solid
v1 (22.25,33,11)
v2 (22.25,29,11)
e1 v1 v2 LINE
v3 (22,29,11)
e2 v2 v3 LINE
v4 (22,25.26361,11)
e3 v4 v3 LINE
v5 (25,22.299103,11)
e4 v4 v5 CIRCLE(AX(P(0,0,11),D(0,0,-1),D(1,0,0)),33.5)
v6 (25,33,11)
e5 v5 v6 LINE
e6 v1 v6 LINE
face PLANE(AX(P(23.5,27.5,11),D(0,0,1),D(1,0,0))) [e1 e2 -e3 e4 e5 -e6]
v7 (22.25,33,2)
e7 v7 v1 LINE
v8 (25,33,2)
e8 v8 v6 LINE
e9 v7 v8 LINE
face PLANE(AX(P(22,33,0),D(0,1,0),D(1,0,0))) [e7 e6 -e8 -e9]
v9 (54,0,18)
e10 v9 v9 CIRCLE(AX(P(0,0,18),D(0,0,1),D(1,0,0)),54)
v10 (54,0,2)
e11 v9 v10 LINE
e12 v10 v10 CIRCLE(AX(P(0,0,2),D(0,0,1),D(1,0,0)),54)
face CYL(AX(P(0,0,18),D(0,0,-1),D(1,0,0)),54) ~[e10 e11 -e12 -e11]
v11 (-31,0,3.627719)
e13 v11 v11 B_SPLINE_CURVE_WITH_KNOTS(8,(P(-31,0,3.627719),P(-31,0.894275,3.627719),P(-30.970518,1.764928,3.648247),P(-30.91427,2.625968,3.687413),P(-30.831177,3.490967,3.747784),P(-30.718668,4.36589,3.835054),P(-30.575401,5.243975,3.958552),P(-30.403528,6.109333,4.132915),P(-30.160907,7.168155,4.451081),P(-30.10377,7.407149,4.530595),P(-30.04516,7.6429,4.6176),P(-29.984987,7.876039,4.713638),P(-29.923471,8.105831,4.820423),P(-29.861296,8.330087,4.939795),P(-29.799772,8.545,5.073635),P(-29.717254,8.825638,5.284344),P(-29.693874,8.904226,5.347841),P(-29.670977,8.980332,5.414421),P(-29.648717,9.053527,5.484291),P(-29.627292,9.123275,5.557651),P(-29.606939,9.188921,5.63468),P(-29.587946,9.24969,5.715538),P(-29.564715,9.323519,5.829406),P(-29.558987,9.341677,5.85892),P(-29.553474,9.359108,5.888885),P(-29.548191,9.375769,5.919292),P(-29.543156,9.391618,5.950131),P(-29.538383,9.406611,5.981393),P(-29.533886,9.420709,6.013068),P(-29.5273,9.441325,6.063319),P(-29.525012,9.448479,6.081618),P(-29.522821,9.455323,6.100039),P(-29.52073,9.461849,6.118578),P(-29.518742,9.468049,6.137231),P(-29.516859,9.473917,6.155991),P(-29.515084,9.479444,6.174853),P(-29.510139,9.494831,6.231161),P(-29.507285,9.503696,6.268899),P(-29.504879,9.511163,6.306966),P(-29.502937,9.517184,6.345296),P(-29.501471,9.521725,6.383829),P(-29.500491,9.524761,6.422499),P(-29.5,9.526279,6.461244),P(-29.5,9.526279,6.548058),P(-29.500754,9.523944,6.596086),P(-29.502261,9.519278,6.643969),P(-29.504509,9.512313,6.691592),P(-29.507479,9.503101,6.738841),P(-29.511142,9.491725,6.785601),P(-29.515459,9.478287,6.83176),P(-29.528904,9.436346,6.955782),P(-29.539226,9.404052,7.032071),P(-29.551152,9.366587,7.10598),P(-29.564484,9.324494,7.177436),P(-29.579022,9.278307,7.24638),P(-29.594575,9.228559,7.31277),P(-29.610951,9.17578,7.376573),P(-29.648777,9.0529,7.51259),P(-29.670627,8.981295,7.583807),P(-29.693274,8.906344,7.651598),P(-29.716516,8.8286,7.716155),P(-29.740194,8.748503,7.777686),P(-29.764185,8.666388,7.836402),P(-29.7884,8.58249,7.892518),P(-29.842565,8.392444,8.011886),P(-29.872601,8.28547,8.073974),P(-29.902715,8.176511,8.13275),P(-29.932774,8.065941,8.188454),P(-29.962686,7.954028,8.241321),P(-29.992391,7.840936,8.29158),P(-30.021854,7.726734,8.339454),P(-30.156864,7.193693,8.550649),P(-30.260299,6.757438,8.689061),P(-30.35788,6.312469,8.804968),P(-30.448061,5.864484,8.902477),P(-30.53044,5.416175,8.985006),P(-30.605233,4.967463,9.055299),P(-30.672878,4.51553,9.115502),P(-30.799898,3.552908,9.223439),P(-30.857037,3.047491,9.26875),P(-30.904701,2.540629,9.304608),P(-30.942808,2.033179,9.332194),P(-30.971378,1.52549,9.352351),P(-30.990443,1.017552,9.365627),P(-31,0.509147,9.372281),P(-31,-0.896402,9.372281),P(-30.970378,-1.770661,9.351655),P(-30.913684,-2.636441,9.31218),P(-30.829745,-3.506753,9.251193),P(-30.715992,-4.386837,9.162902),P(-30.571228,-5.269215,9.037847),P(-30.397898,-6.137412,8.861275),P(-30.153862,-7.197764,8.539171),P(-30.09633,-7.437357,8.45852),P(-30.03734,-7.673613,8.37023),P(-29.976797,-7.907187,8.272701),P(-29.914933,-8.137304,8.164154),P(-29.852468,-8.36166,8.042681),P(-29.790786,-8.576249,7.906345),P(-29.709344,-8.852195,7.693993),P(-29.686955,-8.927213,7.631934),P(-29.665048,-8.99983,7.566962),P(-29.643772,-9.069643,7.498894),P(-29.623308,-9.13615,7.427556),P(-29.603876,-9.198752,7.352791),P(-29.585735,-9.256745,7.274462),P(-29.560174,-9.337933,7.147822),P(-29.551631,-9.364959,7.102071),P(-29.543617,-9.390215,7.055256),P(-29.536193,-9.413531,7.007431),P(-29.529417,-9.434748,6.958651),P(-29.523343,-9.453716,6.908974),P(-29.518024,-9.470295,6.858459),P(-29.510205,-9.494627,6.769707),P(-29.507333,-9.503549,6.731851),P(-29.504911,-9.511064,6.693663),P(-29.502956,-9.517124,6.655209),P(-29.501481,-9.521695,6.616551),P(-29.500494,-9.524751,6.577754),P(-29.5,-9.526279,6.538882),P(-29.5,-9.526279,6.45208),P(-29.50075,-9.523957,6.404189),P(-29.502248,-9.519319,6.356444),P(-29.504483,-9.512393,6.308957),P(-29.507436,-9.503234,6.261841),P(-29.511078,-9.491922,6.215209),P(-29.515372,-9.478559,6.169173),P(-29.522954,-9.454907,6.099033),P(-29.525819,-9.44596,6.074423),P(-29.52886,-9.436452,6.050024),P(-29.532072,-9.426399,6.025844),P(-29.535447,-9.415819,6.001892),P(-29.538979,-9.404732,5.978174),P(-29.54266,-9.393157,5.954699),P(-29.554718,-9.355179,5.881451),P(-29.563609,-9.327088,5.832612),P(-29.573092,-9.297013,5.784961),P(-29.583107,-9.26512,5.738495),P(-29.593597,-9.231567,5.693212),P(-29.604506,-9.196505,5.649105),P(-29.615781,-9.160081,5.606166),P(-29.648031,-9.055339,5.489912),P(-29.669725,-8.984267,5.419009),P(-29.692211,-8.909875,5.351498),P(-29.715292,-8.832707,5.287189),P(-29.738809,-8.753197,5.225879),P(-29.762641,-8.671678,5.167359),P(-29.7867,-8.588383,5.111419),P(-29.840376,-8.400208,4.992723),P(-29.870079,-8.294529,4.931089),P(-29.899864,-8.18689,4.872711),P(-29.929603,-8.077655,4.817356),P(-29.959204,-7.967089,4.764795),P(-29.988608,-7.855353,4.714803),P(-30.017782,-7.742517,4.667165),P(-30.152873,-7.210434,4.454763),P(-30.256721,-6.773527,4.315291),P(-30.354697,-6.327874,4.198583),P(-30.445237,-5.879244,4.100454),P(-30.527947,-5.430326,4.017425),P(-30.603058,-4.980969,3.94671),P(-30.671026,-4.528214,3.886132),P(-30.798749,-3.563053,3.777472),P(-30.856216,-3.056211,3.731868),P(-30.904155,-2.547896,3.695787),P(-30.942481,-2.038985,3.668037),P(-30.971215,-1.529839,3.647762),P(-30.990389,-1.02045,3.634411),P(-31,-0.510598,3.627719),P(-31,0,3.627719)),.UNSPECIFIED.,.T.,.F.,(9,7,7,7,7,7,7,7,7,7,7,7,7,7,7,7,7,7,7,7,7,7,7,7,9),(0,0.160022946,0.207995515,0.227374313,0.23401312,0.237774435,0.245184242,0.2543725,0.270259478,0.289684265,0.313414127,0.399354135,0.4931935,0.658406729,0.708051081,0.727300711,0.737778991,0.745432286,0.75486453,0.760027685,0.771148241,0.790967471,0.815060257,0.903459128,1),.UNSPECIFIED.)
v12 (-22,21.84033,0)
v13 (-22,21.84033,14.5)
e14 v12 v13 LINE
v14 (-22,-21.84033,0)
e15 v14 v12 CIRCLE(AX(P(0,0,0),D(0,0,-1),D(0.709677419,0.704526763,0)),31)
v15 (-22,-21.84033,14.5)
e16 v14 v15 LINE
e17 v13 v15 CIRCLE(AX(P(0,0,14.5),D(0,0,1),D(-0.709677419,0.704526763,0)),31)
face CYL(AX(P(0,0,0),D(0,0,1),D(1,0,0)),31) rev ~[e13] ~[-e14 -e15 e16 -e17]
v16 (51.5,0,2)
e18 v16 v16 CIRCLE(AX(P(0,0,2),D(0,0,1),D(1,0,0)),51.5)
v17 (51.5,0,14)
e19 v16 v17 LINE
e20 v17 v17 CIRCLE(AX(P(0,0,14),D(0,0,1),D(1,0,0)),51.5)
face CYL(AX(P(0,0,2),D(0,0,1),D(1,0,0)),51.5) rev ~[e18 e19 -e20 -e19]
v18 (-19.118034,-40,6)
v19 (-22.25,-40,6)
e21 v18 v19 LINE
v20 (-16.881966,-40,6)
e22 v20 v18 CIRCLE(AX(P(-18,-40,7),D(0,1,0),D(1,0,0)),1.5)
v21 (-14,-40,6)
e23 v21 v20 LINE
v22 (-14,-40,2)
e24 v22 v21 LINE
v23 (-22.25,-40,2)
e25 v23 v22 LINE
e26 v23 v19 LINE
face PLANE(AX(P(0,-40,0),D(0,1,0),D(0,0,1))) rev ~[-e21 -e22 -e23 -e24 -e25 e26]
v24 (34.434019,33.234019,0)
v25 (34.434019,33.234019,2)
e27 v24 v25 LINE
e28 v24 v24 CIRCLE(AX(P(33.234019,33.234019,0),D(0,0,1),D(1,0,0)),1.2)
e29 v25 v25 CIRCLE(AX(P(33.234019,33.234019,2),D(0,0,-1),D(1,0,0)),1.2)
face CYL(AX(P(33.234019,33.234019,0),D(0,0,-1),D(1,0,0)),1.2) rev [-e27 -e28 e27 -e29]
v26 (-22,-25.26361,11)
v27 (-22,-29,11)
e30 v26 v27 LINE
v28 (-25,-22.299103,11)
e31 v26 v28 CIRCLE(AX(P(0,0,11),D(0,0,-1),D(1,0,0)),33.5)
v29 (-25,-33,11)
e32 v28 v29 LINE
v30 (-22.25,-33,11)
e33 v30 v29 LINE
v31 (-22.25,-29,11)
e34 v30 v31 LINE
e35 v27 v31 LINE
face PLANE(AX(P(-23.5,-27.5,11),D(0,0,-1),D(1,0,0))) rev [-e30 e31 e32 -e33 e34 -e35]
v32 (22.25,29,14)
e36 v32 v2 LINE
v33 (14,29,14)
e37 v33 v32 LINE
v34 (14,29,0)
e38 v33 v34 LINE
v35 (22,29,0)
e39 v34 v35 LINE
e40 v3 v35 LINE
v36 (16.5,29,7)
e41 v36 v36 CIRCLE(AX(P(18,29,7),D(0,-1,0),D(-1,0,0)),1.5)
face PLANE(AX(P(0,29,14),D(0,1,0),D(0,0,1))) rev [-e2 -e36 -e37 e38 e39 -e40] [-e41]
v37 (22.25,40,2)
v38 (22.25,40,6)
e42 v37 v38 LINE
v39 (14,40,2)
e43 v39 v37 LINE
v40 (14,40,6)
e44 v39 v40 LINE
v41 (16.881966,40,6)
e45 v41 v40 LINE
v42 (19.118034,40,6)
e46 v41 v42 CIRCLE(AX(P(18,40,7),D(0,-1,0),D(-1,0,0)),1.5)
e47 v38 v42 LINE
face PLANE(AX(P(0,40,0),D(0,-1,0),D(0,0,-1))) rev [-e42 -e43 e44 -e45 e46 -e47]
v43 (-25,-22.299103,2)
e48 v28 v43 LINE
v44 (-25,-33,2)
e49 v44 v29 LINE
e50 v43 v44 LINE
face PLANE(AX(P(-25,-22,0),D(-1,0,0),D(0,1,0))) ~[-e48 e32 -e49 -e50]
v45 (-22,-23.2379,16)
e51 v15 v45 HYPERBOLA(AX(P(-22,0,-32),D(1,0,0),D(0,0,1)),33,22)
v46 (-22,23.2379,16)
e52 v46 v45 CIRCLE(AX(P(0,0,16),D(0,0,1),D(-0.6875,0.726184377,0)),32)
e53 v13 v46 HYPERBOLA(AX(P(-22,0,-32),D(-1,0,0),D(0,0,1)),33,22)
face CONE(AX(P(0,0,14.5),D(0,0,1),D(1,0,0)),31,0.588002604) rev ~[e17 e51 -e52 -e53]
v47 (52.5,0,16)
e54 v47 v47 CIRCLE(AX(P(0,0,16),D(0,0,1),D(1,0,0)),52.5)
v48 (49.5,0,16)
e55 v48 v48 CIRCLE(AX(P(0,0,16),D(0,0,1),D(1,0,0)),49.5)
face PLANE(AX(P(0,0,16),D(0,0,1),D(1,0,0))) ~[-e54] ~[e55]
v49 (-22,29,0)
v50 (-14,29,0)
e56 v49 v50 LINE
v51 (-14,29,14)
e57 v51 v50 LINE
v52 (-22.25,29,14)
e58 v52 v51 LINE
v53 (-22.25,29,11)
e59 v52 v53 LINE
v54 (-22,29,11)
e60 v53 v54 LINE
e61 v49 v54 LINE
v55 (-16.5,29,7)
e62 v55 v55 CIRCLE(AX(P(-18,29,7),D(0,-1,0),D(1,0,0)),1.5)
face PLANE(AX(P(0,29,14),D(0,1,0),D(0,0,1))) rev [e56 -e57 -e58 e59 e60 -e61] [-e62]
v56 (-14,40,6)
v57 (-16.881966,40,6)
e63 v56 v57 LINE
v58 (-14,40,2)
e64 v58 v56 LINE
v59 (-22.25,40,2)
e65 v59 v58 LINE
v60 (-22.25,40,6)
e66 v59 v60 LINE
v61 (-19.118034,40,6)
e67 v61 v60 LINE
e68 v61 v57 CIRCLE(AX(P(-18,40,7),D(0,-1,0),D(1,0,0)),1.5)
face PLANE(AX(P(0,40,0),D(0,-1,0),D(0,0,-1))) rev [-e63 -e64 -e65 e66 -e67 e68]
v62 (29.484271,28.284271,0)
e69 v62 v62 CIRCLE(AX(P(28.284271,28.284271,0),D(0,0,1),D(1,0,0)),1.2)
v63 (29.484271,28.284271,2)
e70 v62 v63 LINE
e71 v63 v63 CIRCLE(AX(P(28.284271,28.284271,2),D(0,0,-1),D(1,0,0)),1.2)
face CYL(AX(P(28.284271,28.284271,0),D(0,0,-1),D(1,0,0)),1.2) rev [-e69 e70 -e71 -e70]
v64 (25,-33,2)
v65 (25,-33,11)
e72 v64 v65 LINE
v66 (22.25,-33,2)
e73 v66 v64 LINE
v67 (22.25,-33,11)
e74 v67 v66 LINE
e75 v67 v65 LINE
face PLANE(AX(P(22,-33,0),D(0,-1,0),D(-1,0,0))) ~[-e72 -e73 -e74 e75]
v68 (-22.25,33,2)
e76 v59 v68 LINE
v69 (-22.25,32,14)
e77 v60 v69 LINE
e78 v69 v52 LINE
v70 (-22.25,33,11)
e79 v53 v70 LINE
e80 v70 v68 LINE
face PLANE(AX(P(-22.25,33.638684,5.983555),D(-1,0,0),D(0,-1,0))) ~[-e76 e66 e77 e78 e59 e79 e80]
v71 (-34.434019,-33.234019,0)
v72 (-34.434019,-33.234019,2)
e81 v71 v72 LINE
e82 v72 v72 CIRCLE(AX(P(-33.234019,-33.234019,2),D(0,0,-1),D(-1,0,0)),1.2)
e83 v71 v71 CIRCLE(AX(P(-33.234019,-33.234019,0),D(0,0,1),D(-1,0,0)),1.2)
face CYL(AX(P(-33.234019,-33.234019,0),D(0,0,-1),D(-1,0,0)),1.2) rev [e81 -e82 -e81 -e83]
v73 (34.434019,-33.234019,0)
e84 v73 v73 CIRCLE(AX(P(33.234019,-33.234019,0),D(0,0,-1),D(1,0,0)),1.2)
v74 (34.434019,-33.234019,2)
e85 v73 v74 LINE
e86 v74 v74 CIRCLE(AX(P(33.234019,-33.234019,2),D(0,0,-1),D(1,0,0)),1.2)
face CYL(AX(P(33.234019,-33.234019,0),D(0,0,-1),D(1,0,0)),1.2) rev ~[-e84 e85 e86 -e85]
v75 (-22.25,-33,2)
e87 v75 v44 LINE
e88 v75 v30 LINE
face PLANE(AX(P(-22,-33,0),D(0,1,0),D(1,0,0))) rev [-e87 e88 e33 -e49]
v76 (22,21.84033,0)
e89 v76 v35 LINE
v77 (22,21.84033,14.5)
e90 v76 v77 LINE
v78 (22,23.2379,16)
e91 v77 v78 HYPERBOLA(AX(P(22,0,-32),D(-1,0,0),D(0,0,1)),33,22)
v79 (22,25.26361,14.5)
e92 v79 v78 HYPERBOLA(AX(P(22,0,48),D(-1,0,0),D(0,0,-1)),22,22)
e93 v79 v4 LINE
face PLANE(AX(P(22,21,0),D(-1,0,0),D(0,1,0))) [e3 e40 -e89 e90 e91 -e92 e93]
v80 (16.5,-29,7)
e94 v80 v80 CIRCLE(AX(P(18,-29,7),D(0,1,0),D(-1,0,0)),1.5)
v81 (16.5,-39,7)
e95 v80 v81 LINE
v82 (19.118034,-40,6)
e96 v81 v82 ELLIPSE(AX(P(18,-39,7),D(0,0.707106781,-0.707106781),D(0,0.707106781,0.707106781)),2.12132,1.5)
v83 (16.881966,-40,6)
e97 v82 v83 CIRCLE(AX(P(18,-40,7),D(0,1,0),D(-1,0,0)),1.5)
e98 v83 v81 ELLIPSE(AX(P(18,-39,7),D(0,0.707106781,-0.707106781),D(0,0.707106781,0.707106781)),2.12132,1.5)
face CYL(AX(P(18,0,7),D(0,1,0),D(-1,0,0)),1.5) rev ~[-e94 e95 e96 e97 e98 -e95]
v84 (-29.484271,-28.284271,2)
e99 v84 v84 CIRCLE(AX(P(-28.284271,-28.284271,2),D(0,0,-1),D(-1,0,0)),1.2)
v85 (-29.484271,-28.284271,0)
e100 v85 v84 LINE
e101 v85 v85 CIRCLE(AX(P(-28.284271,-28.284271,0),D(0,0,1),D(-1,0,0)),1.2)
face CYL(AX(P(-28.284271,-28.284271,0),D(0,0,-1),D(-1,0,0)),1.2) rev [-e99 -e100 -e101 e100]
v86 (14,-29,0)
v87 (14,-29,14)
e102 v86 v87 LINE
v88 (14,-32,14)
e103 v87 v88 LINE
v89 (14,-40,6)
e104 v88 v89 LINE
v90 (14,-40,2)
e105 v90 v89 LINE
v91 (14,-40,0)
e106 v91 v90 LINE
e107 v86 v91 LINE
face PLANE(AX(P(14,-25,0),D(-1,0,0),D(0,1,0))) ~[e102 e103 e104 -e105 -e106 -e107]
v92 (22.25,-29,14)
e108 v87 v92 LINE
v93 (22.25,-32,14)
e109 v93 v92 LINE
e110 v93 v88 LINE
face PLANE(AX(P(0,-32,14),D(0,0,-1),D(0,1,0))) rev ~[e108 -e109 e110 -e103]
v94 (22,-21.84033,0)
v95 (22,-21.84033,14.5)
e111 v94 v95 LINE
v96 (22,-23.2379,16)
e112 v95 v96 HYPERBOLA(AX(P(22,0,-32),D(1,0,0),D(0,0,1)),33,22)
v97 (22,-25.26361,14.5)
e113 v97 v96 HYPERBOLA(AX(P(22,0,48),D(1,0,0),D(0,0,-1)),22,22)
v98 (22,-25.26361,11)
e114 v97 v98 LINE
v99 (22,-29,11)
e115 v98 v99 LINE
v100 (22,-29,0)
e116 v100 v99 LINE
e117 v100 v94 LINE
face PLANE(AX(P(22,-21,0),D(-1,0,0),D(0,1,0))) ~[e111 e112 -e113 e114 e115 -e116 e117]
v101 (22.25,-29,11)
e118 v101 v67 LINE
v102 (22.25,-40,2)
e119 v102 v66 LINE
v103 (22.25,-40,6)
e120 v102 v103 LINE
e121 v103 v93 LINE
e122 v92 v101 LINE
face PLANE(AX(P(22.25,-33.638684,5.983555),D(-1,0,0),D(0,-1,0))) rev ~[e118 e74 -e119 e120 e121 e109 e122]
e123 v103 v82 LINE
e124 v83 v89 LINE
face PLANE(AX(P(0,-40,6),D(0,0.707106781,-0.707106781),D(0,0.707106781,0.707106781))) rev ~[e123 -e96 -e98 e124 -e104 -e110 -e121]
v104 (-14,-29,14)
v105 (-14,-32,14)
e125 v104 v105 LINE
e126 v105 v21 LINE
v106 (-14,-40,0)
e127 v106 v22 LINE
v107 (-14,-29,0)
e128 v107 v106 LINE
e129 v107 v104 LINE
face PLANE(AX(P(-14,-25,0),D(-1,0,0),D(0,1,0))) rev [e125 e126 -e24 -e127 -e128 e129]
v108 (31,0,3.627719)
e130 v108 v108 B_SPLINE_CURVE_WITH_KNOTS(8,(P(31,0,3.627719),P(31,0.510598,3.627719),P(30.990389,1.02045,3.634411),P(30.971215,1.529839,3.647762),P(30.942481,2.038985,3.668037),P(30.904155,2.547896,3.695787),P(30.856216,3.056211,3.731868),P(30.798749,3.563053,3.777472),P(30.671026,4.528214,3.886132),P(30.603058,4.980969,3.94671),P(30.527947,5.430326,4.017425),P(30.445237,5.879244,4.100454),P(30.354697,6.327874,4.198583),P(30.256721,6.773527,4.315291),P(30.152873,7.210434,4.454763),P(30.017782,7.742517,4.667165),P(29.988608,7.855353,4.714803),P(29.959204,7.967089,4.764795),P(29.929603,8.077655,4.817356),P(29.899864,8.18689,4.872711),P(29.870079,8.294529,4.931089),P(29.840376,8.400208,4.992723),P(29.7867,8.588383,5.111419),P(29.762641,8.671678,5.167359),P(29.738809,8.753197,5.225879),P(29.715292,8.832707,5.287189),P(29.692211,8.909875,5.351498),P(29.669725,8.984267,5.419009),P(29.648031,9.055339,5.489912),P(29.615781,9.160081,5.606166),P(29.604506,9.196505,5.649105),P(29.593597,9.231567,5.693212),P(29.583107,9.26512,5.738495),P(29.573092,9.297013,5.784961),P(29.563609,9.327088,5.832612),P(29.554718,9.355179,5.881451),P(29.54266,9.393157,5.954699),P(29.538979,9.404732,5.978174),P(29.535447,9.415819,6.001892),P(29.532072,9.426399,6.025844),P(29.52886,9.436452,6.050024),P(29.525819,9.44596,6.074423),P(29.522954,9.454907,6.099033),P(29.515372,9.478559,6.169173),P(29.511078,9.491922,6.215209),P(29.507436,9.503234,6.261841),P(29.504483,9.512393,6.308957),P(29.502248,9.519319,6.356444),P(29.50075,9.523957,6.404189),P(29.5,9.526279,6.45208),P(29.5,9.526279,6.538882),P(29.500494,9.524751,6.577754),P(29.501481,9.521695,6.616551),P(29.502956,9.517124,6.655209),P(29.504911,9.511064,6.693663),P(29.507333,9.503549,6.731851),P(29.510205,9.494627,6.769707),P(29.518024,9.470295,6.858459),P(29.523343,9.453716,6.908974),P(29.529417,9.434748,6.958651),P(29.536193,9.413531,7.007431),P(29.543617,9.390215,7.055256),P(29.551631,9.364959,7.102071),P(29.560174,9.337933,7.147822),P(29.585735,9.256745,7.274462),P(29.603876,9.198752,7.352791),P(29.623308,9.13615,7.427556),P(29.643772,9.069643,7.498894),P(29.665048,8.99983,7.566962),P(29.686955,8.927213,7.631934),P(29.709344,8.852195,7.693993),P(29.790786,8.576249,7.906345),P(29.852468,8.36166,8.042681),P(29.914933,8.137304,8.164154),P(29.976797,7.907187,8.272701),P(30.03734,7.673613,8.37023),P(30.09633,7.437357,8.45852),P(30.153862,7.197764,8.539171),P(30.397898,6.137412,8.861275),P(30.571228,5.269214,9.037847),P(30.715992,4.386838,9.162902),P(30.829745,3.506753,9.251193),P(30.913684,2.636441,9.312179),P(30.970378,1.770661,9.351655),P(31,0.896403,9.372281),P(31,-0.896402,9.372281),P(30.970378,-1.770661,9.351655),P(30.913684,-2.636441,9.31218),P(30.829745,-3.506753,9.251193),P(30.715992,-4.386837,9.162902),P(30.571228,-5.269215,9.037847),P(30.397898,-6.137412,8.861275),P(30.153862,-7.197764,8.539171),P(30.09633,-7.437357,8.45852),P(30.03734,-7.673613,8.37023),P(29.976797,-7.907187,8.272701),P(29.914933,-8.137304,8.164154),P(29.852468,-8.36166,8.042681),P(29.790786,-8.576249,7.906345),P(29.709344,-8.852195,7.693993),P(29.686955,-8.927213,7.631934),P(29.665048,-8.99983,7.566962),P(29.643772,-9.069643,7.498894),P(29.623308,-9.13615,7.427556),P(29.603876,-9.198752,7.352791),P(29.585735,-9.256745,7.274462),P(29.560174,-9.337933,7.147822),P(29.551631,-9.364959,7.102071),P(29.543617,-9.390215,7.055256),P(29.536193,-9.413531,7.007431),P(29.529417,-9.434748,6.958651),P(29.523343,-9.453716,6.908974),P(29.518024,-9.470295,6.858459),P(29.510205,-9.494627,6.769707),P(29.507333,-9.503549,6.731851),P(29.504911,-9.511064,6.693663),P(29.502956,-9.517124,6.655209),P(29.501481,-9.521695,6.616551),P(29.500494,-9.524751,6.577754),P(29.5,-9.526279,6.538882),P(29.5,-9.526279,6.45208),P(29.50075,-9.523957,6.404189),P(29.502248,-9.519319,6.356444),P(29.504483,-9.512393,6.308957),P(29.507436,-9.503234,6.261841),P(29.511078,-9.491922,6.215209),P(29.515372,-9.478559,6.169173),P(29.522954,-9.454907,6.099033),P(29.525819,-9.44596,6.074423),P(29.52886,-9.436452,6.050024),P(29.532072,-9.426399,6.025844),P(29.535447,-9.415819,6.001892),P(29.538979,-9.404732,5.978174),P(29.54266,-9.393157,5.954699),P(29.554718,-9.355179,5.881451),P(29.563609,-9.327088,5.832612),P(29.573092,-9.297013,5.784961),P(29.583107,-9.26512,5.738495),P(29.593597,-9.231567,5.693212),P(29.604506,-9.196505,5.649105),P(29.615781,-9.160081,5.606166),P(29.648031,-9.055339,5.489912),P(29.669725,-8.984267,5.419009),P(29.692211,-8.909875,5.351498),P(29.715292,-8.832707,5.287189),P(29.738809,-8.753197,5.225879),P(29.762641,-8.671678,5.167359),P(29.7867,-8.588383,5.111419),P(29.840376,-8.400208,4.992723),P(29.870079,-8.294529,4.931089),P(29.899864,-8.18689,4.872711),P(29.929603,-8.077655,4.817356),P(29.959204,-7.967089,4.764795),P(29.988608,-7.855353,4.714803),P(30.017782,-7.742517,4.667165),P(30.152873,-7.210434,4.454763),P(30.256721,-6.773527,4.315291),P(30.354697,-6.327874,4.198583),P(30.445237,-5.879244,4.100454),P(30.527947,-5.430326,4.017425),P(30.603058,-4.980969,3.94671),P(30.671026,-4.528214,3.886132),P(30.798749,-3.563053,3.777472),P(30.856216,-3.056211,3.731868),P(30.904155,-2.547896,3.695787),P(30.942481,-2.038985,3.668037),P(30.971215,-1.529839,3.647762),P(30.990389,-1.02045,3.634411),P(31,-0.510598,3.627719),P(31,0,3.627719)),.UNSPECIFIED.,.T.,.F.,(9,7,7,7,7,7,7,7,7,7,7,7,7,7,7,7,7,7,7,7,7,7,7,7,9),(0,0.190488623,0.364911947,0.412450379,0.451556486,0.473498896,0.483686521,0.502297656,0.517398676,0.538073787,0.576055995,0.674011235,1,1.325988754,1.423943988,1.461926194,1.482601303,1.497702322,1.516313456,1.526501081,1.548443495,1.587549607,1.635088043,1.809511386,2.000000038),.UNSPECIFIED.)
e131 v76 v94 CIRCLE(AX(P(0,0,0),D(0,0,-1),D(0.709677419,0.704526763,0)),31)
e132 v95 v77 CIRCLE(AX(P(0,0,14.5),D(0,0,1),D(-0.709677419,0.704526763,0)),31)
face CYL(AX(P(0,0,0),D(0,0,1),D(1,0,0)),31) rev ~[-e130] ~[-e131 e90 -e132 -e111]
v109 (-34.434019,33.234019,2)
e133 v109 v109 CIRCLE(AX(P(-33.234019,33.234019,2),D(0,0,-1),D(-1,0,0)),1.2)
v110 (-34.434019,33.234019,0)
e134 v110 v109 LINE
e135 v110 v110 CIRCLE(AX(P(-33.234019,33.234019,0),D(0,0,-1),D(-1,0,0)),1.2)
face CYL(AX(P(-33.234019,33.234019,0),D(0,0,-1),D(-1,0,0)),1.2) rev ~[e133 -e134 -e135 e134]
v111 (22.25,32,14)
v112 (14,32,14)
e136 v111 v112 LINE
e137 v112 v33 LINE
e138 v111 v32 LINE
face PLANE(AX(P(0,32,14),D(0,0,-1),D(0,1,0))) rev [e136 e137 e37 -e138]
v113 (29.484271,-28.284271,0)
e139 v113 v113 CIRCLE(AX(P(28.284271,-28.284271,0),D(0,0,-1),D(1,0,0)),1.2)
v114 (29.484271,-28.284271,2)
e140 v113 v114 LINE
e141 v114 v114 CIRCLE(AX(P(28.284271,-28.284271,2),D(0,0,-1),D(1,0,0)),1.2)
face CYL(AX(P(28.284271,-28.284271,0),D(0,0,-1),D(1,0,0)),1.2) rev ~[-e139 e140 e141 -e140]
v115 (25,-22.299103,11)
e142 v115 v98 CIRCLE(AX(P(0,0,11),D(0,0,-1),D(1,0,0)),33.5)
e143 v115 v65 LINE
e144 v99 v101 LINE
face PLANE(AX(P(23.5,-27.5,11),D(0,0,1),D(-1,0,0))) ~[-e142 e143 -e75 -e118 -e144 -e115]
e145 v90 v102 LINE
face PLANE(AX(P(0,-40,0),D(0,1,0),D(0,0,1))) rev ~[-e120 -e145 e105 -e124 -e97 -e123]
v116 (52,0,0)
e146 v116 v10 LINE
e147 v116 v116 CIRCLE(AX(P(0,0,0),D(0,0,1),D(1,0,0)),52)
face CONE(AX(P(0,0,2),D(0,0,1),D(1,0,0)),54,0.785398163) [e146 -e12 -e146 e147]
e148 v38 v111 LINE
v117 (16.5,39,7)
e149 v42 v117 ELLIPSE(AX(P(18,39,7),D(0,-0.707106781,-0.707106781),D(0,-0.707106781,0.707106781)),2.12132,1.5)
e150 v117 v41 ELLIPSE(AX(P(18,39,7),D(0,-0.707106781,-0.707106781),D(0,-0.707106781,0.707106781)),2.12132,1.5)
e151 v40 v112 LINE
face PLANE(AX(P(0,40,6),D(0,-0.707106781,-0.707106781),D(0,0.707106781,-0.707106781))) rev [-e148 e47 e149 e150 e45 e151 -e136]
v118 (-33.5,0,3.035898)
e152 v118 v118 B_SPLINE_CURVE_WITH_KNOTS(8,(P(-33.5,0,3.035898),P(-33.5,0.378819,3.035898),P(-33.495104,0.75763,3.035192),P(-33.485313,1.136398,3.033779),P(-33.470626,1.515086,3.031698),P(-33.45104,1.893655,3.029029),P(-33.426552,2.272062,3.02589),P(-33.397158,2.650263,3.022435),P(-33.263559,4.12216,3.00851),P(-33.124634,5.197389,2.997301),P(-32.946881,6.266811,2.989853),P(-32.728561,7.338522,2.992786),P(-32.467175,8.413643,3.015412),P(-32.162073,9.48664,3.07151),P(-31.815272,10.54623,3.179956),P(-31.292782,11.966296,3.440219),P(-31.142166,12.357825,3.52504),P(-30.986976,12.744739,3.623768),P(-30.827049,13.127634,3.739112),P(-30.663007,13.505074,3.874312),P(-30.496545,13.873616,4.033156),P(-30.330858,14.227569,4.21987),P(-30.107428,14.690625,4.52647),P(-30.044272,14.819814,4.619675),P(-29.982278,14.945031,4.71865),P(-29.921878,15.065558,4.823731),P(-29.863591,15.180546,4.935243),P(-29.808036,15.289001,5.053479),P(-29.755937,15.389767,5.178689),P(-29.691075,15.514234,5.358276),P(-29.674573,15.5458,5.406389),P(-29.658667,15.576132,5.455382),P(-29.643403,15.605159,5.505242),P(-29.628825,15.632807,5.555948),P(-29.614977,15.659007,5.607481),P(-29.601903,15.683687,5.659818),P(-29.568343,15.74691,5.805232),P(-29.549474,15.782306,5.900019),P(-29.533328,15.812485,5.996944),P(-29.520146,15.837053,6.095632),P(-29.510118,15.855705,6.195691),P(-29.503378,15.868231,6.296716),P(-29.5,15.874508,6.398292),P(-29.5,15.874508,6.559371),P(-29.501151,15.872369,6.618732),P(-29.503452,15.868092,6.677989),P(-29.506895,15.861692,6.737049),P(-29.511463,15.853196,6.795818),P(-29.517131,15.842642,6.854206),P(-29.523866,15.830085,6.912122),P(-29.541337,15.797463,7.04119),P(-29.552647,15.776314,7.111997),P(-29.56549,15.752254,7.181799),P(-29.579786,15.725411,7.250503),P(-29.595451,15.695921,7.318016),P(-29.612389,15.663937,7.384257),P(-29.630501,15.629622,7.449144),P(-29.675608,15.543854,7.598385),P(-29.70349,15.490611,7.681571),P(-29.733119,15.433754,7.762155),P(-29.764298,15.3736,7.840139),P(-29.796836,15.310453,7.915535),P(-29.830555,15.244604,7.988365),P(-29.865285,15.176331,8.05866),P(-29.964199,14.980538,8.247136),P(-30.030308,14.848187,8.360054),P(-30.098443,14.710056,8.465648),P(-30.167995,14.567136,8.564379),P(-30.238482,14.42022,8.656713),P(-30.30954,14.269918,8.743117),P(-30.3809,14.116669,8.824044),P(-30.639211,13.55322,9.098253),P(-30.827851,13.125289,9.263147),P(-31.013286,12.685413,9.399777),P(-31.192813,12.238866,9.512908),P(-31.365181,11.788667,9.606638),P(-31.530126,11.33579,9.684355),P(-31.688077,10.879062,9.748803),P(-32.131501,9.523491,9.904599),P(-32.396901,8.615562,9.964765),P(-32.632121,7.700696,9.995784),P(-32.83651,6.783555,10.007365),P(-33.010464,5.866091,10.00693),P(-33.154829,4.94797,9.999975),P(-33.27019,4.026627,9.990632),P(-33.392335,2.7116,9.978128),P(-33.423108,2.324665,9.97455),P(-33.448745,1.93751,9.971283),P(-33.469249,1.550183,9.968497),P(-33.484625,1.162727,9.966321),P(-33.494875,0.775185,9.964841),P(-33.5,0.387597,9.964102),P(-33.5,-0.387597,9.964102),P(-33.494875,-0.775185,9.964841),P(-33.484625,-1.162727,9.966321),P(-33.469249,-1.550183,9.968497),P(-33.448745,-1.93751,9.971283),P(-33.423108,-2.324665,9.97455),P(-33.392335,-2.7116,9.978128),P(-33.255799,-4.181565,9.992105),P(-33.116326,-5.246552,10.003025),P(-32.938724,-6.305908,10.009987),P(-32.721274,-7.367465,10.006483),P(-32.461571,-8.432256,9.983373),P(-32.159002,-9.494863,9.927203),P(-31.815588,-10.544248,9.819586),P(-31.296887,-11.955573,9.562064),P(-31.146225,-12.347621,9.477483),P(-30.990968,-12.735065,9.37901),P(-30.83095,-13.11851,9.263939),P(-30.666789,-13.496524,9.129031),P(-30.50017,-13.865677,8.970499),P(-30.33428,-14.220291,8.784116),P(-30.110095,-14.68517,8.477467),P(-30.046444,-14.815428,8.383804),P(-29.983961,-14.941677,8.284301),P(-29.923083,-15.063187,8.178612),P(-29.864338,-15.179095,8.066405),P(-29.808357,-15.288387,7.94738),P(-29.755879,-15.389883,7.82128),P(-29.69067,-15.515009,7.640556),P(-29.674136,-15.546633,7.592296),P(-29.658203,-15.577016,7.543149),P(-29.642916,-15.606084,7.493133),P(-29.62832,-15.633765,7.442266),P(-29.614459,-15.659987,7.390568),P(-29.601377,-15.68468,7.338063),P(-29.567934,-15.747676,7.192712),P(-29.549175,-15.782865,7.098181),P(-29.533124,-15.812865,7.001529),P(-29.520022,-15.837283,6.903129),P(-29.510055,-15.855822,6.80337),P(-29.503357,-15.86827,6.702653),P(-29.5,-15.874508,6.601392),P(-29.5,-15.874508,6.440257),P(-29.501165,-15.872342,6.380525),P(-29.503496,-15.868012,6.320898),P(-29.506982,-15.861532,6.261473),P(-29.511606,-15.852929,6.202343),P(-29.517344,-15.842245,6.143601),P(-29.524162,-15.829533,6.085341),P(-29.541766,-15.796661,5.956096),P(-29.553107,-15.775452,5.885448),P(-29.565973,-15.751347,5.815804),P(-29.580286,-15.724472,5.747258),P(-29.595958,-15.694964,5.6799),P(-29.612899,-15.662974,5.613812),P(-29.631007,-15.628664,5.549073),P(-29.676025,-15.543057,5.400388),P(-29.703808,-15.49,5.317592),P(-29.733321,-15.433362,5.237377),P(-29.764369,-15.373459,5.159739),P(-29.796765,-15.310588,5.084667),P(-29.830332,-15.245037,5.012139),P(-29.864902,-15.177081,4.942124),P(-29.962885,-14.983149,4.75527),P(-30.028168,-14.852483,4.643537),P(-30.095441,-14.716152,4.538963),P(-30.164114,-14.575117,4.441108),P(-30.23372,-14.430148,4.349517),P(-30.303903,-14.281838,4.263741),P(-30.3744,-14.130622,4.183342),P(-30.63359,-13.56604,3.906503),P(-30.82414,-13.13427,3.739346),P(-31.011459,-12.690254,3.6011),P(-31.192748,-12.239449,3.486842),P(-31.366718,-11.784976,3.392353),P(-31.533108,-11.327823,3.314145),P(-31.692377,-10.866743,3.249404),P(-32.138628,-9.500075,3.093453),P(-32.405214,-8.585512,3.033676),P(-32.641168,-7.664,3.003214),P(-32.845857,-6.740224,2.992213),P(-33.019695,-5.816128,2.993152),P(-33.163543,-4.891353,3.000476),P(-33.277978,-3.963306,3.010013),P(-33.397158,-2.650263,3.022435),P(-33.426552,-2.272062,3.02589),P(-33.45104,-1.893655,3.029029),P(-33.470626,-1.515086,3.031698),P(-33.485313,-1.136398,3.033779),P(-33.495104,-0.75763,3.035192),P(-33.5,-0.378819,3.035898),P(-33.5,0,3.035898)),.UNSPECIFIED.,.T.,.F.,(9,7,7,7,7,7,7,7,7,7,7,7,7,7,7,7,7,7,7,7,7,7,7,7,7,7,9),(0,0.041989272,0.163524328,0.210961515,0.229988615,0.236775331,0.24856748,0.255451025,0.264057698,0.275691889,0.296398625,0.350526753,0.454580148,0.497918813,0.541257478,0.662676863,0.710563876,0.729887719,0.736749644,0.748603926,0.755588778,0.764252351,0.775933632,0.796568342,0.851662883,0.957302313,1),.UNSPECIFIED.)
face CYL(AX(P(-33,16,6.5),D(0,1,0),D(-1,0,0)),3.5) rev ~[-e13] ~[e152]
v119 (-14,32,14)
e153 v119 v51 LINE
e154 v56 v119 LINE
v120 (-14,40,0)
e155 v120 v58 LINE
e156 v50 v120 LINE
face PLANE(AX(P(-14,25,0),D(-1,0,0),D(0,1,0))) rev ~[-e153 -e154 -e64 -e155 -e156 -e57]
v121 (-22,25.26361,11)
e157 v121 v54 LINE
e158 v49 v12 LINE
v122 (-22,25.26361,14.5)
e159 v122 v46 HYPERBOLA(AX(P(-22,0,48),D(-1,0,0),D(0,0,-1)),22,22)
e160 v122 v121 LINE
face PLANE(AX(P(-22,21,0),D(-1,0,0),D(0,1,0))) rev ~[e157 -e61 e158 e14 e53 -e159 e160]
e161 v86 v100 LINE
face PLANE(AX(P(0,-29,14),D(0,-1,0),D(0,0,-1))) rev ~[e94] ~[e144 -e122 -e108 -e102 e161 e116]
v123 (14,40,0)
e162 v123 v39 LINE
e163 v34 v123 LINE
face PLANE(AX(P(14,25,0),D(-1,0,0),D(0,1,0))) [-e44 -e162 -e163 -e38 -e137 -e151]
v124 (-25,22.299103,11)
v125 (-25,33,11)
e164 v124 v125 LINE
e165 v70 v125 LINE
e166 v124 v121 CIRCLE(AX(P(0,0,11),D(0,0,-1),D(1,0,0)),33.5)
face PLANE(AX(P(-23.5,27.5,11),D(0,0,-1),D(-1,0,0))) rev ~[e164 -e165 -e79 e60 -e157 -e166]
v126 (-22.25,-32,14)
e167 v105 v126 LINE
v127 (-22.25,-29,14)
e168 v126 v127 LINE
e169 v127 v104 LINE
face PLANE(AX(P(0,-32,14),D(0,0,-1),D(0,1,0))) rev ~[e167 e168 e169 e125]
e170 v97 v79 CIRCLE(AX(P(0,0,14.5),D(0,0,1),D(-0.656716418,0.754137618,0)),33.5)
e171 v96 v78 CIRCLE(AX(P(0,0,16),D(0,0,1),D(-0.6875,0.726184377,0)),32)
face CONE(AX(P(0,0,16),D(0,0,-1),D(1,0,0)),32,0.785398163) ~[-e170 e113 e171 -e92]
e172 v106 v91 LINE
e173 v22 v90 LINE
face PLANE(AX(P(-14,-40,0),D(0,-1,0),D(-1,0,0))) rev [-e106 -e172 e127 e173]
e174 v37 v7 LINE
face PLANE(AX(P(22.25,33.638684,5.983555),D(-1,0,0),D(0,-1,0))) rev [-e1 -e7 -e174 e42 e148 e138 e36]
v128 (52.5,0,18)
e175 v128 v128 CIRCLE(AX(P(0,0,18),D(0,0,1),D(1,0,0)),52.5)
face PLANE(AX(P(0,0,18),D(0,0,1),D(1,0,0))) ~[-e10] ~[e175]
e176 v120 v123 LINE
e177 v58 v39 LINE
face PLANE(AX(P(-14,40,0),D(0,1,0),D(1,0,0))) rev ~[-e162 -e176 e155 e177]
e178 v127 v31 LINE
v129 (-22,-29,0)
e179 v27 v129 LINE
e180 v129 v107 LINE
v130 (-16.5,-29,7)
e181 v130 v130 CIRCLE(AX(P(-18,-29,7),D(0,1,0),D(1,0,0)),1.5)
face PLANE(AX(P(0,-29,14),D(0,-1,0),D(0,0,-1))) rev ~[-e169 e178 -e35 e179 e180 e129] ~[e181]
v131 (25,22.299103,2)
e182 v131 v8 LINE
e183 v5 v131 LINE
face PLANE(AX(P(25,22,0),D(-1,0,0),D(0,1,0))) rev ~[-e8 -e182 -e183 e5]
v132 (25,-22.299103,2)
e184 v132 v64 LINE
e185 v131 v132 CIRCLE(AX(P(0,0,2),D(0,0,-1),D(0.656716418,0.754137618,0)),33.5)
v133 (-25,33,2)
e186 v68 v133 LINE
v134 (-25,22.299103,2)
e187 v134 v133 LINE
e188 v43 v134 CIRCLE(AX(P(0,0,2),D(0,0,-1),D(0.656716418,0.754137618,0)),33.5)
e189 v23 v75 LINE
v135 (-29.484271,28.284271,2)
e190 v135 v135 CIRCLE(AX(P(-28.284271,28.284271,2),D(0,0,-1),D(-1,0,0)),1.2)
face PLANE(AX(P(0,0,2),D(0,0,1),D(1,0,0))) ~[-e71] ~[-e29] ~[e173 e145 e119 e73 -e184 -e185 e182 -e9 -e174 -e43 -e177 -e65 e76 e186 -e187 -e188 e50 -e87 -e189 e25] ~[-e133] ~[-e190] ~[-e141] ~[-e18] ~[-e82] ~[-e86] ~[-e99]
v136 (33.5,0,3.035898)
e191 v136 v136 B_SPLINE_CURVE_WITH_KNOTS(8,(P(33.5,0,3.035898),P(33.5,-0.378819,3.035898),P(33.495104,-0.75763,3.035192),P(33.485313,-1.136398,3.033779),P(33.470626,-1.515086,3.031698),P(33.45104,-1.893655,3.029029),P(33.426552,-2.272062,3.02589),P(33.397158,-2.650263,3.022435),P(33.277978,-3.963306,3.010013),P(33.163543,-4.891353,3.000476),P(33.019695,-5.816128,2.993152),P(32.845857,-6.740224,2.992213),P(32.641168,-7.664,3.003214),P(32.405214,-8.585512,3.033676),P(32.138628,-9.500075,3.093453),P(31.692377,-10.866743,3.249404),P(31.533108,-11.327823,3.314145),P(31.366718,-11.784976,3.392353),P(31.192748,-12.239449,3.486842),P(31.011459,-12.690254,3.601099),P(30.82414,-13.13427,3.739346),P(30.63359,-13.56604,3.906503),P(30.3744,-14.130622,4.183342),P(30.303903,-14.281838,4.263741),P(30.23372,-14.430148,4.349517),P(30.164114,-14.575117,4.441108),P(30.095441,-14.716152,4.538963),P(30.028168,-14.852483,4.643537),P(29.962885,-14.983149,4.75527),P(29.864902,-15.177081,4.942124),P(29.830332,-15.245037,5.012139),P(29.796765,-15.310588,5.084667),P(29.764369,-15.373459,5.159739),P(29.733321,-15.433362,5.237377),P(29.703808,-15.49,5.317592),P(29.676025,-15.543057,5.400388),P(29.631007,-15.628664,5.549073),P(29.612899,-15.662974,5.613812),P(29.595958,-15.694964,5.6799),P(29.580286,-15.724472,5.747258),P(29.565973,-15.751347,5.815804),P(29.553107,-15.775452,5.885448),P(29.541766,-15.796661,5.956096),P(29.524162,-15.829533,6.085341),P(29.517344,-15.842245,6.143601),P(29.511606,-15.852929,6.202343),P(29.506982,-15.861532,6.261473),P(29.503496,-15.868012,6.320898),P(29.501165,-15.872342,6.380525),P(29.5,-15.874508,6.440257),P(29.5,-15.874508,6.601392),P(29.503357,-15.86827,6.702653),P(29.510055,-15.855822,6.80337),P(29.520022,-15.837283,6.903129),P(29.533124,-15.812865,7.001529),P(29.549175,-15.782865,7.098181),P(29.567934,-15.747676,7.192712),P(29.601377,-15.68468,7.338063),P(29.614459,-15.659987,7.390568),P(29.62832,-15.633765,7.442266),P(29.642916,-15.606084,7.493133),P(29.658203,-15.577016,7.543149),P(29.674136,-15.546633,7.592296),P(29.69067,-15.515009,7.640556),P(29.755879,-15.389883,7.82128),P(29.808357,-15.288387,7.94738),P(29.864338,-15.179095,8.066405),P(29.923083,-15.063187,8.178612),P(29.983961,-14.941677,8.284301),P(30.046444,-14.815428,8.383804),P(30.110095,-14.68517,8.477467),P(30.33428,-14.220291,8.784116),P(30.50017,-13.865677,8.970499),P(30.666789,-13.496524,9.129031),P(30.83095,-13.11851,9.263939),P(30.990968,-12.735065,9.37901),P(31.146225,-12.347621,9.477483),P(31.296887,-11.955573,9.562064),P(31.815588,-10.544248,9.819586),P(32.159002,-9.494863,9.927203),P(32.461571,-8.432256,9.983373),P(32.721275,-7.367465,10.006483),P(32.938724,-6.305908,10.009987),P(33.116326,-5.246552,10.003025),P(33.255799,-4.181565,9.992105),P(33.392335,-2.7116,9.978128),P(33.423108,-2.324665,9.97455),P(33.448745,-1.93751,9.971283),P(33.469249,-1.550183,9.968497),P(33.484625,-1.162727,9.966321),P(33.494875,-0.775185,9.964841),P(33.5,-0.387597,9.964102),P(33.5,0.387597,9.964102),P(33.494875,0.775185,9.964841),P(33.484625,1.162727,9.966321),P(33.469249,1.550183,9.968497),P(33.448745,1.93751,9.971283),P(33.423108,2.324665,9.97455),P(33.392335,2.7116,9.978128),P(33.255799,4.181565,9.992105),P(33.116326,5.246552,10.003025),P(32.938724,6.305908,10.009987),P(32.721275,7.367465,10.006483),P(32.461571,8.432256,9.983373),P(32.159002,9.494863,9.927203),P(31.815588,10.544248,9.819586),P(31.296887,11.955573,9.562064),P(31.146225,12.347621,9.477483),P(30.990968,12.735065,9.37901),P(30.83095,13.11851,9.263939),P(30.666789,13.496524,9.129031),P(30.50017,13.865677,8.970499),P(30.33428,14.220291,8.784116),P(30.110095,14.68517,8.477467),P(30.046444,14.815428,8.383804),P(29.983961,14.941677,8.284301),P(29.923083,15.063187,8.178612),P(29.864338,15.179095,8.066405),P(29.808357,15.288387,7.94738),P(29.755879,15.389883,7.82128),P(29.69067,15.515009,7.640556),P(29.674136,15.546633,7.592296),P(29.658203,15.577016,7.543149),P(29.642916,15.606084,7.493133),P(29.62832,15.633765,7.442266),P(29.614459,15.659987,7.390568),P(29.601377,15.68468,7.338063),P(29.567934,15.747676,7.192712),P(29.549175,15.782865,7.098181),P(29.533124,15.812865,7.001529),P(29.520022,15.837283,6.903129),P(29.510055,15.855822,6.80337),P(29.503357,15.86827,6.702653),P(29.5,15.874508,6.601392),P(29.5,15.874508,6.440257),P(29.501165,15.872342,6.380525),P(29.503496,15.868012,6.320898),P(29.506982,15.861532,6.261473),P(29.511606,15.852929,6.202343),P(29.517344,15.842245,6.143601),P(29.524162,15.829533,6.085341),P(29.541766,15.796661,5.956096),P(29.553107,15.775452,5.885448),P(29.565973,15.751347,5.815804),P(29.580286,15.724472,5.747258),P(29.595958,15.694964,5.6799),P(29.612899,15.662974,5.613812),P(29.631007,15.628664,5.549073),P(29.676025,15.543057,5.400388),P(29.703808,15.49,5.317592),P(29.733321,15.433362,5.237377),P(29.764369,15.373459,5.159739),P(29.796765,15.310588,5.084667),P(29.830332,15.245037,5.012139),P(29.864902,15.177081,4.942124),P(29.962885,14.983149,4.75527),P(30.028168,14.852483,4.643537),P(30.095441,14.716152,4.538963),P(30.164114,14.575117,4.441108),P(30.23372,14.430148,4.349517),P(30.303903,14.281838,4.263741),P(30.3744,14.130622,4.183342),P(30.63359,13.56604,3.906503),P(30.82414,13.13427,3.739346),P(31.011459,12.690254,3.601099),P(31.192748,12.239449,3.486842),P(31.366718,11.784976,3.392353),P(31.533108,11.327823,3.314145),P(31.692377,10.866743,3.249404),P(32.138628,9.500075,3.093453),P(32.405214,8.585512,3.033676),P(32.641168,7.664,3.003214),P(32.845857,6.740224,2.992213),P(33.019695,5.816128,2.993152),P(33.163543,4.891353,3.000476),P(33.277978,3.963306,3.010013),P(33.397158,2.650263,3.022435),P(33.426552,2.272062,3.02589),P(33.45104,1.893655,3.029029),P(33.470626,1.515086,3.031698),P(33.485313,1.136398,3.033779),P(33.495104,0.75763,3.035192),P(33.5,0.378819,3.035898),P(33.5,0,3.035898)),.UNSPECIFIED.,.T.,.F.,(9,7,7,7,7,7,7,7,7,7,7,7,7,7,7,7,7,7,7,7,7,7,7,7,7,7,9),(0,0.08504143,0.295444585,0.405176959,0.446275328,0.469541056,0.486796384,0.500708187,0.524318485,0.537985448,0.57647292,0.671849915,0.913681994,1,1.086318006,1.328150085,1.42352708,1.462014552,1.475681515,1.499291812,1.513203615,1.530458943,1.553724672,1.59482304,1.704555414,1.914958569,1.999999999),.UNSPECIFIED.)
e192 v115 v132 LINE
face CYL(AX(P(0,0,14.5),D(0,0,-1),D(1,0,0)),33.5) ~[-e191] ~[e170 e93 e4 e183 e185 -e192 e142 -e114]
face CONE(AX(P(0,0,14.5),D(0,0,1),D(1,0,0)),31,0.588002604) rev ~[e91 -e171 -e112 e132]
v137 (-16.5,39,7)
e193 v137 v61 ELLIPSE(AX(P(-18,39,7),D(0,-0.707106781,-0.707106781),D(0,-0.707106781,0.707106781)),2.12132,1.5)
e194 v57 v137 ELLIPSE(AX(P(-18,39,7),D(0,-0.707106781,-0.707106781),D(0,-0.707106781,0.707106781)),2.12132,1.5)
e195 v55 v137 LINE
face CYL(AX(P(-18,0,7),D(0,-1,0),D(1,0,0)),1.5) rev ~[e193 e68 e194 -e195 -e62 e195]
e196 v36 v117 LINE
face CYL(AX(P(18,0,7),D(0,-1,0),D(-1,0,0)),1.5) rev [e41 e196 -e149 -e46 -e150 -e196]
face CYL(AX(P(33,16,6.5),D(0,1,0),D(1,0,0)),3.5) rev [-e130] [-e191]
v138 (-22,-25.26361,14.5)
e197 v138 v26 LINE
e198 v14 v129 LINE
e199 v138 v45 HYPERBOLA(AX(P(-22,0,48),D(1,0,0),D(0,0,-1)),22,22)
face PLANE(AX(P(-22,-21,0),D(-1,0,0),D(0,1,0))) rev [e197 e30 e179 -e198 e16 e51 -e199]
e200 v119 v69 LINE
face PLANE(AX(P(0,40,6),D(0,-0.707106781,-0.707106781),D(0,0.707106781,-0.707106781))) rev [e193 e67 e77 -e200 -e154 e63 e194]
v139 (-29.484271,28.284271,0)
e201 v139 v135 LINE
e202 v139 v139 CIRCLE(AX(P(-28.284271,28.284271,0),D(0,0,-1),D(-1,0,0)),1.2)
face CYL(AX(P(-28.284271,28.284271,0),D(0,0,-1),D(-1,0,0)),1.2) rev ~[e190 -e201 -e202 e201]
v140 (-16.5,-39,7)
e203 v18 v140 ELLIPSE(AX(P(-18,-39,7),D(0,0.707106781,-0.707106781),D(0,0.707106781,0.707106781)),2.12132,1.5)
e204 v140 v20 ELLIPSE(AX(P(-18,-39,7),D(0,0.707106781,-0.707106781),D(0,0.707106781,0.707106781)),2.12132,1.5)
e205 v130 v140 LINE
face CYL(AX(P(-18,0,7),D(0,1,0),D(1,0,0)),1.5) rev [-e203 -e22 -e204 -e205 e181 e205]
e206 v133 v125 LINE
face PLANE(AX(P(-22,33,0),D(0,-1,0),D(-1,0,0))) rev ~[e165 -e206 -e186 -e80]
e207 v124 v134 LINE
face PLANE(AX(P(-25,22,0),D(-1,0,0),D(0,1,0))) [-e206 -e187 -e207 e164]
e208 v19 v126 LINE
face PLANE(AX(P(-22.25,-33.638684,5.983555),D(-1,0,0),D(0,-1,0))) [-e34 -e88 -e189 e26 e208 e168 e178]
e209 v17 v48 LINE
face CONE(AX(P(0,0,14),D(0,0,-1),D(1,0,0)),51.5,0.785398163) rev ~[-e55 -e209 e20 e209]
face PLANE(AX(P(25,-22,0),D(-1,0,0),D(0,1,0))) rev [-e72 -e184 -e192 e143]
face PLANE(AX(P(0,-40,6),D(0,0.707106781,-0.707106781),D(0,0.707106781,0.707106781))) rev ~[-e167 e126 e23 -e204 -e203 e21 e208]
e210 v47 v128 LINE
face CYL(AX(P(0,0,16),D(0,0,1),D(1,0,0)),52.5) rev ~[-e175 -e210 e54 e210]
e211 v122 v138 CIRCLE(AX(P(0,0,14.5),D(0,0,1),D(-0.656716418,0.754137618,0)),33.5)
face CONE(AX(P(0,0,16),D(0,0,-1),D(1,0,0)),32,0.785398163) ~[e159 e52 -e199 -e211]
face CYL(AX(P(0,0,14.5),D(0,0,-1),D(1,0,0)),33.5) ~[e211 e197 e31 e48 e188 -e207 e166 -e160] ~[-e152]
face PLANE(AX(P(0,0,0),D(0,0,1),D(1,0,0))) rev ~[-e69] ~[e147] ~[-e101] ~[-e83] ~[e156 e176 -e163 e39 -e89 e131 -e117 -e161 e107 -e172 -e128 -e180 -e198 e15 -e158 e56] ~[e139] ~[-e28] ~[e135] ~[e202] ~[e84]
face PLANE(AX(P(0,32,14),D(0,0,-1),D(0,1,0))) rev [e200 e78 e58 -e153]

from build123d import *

# Parameters (mm, degrees)
SKETCH001_W                   = 44
SKETCH001_H                   = 15
POCKET_DEPTH                  = 325.585135
PAD_DEPTH                     = 22.25
SKETCH003_W                   = 28
SKETCH003_H                   = 15
POCKET001_DEPTH               = 325.585135
SKETCH004_R                   = 1.5
POCKET002_DEPTH               = 45
SKETCH004_MIRRORED014_2_R     = 1.5
POCKET002_MIRRORED014_2_DEPTH = 45
SKETCH006_R                   = 1.2
POCKET004_DEPTH               = 325.585135
SKETCH006_MIRRORED016_2_R     = 1.2
POCKET004_MIRRORED016_2_DEPTH = 325.585135
SKETCH007_W                   = 3
SKETCH007_H                   = 11
PAD001_DEPTH                  = 11
SKETCH007_MIRRORED011_2_W     = 3
SKETCH007_MIRRORED011_2_H     = 11
PAD001_MIRRORED011_2_DEPTH    = 11
CYLINDER_R                    = 3.5
CYLINDER_DEPTH                = 33
CHAMFER_SIZE                  = 2


with BuildPart() as part:
    # Sketch → Revolution (revolve)
    with BuildSketch(Plane.XZ):
        Polygon((31, 0), (31, 14.5), (32, 16), (33.5, 14.5), (33.5, 2), (51.5, 2), (51.5, 14), (49.5, 16), (52.5, 16), (52.5, 18), (54, 18), (54, 0), align=None)
    revolve(axis=Axis((0, 0, 0), (0, 0, 1)))

    # Sketch001 → Pocket (cut, through all)
    with BuildSketch(Plane.XY):
        with Locations((0, 28.5)):
            Rectangle(SKETCH001_W, SKETCH001_H)
    pocket = extrude(amount=POCKET_DEPTH, mode=Mode.SUBTRACT)

    # Mirrored: Pocket across XZ
    add(pocket.mirror(Plane.XZ), mode=Mode.SUBTRACT)

    # Sketch002 → Pad (join, symmetric)
    with BuildSketch(Plane.YZ):
        Polygon((-40, 0), (-40, 6), (-32, 14), (-29, 14), (-29, 0), align=None)
    pad = extrude(amount=PAD_DEPTH, both=True)

    # Mirrored001: Pad across XZ
    add(pad.mirror(Plane.XZ))

    # Sketch003 → Pocket001 (cut, through all)
    with BuildSketch(Plane.XY):
        with Locations((0, 32.5)):
            Rectangle(SKETCH003_W, SKETCH003_H)
    pocket001 = extrude(amount=POCKET001_DEPTH, mode=Mode.SUBTRACT)

    # Mirrored002: Pocket001 across XZ
    add(pocket001.mirror(Plane.XZ), mode=Mode.SUBTRACT)

    # Sketch004 → Pocket002 (cut)
    with BuildSketch(Plane.XZ):
        with Locations((-18, 7)):
            Circle(SKETCH004_R)
    pocket002 = extrude(amount=-POCKET002_DEPTH, mode=Mode.SUBTRACT)

    # Sketch004 Mirrored014 2 → Pocket002 Mirrored014 2 (cut)
    with BuildSketch(Plane(origin=(0, 0, 0), x_dir=(-1, 0, 0), z_dir=(0, 1, 0))):
        with Locations((-18, 7)):
            Circle(SKETCH004_MIRRORED014_2_R)
    pocket002_mirrored014_2 = extrude(amount=POCKET002_MIRRORED014_2_DEPTH, mode=Mode.SUBTRACT)

    # Mirrored015: Pocket002, Pocket002 Mirrored014 2 across XZ
    add(pocket002.mirror(Plane.XZ), mode=Mode.SUBTRACT)
    add(pocket002_mirrored014_2.mirror(Plane.XZ), mode=Mode.SUBTRACT)

    # Sketch006 → Pocket004 (cut, through all)
    with BuildSketch(Plane.XY):
        with Locations((28.284271, 28.284271)):
            Circle(SKETCH006_R)
        with Locations((33.234019, 33.234019)):
            Circle(SKETCH006_R)
    pocket004 = extrude(amount=POCKET004_DEPTH, mode=Mode.SUBTRACT)

    # Sketch006 Mirrored016 2 → Pocket004 Mirrored016 2 (cut, through all)
    with BuildSketch(Plane(origin=(0, 0, 0), x_dir=(-1, 0, 0), z_dir=(0, 0, -1))):
        with Locations((28.284271, 28.284271)):
            Circle(SKETCH006_MIRRORED016_2_R)
        with Locations((33.234019, 33.234019)):
            Circle(SKETCH006_MIRRORED016_2_R)
    pocket004_mirrored016_2 = extrude(amount=-POCKET004_MIRRORED016_2_DEPTH, mode=Mode.SUBTRACT)

    # Mirrored017: Pocket004, Pocket004 Mirrored016 2 across XZ
    add(pocket004.mirror(Plane.XZ), mode=Mode.SUBTRACT)
    add(pocket004_mirrored016_2.mirror(Plane.XZ), mode=Mode.SUBTRACT)

    # Sketch007 → Pad001 (join)
    with BuildSketch(Plane.XY):
        with Locations((23.5, 27.5)):
            Rectangle(SKETCH007_W, SKETCH007_H)
    pad001 = extrude(amount=PAD001_DEPTH)

    # Sketch007 Mirrored011 2 → Pad001 Mirrored011 2 (add)
    with BuildSketch(Plane(origin=(0, 0, 0), x_dir=(-1, 0, 0), z_dir=(0, 0, -1))):
        with Locations((23.5, 27.5)):
            Rectangle(SKETCH007_MIRRORED011_2_W, SKETCH007_MIRRORED011_2_H)
    pad001_mirrored011_2 = extrude(amount=-PAD001_MIRRORED011_2_DEPTH)

    # Mirrored012: Pad001, Pad001 Mirrored011 2 across XZ
    add(pad001.mirror(Plane.XZ))
    add(pad001_mirrored011_2.mirror(Plane.XZ))

    # Cylinder → Cylinder (cut)
    with BuildSketch(Plane(origin=(33, 16, 6.5), x_dir=(1, 0, 0), z_dir=(0, -1, 0))):
        Circle(CYLINDER_R)
    cylinder = extrude(amount=CYLINDER_DEPTH, mode=Mode.SUBTRACT)

    # Mirrored013: Cylinder across YZ
    add(cylinder.mirror(Plane.YZ), mode=Mode.SUBTRACT)

    # Chamfer
    chamfer_edges = [part.edges().sort_by_distance(p)[0] for p in [
        (-54, 0, 0),
    ]]
    chamfer(chamfer_edges, length=CHAMFER_SIZE)


solid = part.part
